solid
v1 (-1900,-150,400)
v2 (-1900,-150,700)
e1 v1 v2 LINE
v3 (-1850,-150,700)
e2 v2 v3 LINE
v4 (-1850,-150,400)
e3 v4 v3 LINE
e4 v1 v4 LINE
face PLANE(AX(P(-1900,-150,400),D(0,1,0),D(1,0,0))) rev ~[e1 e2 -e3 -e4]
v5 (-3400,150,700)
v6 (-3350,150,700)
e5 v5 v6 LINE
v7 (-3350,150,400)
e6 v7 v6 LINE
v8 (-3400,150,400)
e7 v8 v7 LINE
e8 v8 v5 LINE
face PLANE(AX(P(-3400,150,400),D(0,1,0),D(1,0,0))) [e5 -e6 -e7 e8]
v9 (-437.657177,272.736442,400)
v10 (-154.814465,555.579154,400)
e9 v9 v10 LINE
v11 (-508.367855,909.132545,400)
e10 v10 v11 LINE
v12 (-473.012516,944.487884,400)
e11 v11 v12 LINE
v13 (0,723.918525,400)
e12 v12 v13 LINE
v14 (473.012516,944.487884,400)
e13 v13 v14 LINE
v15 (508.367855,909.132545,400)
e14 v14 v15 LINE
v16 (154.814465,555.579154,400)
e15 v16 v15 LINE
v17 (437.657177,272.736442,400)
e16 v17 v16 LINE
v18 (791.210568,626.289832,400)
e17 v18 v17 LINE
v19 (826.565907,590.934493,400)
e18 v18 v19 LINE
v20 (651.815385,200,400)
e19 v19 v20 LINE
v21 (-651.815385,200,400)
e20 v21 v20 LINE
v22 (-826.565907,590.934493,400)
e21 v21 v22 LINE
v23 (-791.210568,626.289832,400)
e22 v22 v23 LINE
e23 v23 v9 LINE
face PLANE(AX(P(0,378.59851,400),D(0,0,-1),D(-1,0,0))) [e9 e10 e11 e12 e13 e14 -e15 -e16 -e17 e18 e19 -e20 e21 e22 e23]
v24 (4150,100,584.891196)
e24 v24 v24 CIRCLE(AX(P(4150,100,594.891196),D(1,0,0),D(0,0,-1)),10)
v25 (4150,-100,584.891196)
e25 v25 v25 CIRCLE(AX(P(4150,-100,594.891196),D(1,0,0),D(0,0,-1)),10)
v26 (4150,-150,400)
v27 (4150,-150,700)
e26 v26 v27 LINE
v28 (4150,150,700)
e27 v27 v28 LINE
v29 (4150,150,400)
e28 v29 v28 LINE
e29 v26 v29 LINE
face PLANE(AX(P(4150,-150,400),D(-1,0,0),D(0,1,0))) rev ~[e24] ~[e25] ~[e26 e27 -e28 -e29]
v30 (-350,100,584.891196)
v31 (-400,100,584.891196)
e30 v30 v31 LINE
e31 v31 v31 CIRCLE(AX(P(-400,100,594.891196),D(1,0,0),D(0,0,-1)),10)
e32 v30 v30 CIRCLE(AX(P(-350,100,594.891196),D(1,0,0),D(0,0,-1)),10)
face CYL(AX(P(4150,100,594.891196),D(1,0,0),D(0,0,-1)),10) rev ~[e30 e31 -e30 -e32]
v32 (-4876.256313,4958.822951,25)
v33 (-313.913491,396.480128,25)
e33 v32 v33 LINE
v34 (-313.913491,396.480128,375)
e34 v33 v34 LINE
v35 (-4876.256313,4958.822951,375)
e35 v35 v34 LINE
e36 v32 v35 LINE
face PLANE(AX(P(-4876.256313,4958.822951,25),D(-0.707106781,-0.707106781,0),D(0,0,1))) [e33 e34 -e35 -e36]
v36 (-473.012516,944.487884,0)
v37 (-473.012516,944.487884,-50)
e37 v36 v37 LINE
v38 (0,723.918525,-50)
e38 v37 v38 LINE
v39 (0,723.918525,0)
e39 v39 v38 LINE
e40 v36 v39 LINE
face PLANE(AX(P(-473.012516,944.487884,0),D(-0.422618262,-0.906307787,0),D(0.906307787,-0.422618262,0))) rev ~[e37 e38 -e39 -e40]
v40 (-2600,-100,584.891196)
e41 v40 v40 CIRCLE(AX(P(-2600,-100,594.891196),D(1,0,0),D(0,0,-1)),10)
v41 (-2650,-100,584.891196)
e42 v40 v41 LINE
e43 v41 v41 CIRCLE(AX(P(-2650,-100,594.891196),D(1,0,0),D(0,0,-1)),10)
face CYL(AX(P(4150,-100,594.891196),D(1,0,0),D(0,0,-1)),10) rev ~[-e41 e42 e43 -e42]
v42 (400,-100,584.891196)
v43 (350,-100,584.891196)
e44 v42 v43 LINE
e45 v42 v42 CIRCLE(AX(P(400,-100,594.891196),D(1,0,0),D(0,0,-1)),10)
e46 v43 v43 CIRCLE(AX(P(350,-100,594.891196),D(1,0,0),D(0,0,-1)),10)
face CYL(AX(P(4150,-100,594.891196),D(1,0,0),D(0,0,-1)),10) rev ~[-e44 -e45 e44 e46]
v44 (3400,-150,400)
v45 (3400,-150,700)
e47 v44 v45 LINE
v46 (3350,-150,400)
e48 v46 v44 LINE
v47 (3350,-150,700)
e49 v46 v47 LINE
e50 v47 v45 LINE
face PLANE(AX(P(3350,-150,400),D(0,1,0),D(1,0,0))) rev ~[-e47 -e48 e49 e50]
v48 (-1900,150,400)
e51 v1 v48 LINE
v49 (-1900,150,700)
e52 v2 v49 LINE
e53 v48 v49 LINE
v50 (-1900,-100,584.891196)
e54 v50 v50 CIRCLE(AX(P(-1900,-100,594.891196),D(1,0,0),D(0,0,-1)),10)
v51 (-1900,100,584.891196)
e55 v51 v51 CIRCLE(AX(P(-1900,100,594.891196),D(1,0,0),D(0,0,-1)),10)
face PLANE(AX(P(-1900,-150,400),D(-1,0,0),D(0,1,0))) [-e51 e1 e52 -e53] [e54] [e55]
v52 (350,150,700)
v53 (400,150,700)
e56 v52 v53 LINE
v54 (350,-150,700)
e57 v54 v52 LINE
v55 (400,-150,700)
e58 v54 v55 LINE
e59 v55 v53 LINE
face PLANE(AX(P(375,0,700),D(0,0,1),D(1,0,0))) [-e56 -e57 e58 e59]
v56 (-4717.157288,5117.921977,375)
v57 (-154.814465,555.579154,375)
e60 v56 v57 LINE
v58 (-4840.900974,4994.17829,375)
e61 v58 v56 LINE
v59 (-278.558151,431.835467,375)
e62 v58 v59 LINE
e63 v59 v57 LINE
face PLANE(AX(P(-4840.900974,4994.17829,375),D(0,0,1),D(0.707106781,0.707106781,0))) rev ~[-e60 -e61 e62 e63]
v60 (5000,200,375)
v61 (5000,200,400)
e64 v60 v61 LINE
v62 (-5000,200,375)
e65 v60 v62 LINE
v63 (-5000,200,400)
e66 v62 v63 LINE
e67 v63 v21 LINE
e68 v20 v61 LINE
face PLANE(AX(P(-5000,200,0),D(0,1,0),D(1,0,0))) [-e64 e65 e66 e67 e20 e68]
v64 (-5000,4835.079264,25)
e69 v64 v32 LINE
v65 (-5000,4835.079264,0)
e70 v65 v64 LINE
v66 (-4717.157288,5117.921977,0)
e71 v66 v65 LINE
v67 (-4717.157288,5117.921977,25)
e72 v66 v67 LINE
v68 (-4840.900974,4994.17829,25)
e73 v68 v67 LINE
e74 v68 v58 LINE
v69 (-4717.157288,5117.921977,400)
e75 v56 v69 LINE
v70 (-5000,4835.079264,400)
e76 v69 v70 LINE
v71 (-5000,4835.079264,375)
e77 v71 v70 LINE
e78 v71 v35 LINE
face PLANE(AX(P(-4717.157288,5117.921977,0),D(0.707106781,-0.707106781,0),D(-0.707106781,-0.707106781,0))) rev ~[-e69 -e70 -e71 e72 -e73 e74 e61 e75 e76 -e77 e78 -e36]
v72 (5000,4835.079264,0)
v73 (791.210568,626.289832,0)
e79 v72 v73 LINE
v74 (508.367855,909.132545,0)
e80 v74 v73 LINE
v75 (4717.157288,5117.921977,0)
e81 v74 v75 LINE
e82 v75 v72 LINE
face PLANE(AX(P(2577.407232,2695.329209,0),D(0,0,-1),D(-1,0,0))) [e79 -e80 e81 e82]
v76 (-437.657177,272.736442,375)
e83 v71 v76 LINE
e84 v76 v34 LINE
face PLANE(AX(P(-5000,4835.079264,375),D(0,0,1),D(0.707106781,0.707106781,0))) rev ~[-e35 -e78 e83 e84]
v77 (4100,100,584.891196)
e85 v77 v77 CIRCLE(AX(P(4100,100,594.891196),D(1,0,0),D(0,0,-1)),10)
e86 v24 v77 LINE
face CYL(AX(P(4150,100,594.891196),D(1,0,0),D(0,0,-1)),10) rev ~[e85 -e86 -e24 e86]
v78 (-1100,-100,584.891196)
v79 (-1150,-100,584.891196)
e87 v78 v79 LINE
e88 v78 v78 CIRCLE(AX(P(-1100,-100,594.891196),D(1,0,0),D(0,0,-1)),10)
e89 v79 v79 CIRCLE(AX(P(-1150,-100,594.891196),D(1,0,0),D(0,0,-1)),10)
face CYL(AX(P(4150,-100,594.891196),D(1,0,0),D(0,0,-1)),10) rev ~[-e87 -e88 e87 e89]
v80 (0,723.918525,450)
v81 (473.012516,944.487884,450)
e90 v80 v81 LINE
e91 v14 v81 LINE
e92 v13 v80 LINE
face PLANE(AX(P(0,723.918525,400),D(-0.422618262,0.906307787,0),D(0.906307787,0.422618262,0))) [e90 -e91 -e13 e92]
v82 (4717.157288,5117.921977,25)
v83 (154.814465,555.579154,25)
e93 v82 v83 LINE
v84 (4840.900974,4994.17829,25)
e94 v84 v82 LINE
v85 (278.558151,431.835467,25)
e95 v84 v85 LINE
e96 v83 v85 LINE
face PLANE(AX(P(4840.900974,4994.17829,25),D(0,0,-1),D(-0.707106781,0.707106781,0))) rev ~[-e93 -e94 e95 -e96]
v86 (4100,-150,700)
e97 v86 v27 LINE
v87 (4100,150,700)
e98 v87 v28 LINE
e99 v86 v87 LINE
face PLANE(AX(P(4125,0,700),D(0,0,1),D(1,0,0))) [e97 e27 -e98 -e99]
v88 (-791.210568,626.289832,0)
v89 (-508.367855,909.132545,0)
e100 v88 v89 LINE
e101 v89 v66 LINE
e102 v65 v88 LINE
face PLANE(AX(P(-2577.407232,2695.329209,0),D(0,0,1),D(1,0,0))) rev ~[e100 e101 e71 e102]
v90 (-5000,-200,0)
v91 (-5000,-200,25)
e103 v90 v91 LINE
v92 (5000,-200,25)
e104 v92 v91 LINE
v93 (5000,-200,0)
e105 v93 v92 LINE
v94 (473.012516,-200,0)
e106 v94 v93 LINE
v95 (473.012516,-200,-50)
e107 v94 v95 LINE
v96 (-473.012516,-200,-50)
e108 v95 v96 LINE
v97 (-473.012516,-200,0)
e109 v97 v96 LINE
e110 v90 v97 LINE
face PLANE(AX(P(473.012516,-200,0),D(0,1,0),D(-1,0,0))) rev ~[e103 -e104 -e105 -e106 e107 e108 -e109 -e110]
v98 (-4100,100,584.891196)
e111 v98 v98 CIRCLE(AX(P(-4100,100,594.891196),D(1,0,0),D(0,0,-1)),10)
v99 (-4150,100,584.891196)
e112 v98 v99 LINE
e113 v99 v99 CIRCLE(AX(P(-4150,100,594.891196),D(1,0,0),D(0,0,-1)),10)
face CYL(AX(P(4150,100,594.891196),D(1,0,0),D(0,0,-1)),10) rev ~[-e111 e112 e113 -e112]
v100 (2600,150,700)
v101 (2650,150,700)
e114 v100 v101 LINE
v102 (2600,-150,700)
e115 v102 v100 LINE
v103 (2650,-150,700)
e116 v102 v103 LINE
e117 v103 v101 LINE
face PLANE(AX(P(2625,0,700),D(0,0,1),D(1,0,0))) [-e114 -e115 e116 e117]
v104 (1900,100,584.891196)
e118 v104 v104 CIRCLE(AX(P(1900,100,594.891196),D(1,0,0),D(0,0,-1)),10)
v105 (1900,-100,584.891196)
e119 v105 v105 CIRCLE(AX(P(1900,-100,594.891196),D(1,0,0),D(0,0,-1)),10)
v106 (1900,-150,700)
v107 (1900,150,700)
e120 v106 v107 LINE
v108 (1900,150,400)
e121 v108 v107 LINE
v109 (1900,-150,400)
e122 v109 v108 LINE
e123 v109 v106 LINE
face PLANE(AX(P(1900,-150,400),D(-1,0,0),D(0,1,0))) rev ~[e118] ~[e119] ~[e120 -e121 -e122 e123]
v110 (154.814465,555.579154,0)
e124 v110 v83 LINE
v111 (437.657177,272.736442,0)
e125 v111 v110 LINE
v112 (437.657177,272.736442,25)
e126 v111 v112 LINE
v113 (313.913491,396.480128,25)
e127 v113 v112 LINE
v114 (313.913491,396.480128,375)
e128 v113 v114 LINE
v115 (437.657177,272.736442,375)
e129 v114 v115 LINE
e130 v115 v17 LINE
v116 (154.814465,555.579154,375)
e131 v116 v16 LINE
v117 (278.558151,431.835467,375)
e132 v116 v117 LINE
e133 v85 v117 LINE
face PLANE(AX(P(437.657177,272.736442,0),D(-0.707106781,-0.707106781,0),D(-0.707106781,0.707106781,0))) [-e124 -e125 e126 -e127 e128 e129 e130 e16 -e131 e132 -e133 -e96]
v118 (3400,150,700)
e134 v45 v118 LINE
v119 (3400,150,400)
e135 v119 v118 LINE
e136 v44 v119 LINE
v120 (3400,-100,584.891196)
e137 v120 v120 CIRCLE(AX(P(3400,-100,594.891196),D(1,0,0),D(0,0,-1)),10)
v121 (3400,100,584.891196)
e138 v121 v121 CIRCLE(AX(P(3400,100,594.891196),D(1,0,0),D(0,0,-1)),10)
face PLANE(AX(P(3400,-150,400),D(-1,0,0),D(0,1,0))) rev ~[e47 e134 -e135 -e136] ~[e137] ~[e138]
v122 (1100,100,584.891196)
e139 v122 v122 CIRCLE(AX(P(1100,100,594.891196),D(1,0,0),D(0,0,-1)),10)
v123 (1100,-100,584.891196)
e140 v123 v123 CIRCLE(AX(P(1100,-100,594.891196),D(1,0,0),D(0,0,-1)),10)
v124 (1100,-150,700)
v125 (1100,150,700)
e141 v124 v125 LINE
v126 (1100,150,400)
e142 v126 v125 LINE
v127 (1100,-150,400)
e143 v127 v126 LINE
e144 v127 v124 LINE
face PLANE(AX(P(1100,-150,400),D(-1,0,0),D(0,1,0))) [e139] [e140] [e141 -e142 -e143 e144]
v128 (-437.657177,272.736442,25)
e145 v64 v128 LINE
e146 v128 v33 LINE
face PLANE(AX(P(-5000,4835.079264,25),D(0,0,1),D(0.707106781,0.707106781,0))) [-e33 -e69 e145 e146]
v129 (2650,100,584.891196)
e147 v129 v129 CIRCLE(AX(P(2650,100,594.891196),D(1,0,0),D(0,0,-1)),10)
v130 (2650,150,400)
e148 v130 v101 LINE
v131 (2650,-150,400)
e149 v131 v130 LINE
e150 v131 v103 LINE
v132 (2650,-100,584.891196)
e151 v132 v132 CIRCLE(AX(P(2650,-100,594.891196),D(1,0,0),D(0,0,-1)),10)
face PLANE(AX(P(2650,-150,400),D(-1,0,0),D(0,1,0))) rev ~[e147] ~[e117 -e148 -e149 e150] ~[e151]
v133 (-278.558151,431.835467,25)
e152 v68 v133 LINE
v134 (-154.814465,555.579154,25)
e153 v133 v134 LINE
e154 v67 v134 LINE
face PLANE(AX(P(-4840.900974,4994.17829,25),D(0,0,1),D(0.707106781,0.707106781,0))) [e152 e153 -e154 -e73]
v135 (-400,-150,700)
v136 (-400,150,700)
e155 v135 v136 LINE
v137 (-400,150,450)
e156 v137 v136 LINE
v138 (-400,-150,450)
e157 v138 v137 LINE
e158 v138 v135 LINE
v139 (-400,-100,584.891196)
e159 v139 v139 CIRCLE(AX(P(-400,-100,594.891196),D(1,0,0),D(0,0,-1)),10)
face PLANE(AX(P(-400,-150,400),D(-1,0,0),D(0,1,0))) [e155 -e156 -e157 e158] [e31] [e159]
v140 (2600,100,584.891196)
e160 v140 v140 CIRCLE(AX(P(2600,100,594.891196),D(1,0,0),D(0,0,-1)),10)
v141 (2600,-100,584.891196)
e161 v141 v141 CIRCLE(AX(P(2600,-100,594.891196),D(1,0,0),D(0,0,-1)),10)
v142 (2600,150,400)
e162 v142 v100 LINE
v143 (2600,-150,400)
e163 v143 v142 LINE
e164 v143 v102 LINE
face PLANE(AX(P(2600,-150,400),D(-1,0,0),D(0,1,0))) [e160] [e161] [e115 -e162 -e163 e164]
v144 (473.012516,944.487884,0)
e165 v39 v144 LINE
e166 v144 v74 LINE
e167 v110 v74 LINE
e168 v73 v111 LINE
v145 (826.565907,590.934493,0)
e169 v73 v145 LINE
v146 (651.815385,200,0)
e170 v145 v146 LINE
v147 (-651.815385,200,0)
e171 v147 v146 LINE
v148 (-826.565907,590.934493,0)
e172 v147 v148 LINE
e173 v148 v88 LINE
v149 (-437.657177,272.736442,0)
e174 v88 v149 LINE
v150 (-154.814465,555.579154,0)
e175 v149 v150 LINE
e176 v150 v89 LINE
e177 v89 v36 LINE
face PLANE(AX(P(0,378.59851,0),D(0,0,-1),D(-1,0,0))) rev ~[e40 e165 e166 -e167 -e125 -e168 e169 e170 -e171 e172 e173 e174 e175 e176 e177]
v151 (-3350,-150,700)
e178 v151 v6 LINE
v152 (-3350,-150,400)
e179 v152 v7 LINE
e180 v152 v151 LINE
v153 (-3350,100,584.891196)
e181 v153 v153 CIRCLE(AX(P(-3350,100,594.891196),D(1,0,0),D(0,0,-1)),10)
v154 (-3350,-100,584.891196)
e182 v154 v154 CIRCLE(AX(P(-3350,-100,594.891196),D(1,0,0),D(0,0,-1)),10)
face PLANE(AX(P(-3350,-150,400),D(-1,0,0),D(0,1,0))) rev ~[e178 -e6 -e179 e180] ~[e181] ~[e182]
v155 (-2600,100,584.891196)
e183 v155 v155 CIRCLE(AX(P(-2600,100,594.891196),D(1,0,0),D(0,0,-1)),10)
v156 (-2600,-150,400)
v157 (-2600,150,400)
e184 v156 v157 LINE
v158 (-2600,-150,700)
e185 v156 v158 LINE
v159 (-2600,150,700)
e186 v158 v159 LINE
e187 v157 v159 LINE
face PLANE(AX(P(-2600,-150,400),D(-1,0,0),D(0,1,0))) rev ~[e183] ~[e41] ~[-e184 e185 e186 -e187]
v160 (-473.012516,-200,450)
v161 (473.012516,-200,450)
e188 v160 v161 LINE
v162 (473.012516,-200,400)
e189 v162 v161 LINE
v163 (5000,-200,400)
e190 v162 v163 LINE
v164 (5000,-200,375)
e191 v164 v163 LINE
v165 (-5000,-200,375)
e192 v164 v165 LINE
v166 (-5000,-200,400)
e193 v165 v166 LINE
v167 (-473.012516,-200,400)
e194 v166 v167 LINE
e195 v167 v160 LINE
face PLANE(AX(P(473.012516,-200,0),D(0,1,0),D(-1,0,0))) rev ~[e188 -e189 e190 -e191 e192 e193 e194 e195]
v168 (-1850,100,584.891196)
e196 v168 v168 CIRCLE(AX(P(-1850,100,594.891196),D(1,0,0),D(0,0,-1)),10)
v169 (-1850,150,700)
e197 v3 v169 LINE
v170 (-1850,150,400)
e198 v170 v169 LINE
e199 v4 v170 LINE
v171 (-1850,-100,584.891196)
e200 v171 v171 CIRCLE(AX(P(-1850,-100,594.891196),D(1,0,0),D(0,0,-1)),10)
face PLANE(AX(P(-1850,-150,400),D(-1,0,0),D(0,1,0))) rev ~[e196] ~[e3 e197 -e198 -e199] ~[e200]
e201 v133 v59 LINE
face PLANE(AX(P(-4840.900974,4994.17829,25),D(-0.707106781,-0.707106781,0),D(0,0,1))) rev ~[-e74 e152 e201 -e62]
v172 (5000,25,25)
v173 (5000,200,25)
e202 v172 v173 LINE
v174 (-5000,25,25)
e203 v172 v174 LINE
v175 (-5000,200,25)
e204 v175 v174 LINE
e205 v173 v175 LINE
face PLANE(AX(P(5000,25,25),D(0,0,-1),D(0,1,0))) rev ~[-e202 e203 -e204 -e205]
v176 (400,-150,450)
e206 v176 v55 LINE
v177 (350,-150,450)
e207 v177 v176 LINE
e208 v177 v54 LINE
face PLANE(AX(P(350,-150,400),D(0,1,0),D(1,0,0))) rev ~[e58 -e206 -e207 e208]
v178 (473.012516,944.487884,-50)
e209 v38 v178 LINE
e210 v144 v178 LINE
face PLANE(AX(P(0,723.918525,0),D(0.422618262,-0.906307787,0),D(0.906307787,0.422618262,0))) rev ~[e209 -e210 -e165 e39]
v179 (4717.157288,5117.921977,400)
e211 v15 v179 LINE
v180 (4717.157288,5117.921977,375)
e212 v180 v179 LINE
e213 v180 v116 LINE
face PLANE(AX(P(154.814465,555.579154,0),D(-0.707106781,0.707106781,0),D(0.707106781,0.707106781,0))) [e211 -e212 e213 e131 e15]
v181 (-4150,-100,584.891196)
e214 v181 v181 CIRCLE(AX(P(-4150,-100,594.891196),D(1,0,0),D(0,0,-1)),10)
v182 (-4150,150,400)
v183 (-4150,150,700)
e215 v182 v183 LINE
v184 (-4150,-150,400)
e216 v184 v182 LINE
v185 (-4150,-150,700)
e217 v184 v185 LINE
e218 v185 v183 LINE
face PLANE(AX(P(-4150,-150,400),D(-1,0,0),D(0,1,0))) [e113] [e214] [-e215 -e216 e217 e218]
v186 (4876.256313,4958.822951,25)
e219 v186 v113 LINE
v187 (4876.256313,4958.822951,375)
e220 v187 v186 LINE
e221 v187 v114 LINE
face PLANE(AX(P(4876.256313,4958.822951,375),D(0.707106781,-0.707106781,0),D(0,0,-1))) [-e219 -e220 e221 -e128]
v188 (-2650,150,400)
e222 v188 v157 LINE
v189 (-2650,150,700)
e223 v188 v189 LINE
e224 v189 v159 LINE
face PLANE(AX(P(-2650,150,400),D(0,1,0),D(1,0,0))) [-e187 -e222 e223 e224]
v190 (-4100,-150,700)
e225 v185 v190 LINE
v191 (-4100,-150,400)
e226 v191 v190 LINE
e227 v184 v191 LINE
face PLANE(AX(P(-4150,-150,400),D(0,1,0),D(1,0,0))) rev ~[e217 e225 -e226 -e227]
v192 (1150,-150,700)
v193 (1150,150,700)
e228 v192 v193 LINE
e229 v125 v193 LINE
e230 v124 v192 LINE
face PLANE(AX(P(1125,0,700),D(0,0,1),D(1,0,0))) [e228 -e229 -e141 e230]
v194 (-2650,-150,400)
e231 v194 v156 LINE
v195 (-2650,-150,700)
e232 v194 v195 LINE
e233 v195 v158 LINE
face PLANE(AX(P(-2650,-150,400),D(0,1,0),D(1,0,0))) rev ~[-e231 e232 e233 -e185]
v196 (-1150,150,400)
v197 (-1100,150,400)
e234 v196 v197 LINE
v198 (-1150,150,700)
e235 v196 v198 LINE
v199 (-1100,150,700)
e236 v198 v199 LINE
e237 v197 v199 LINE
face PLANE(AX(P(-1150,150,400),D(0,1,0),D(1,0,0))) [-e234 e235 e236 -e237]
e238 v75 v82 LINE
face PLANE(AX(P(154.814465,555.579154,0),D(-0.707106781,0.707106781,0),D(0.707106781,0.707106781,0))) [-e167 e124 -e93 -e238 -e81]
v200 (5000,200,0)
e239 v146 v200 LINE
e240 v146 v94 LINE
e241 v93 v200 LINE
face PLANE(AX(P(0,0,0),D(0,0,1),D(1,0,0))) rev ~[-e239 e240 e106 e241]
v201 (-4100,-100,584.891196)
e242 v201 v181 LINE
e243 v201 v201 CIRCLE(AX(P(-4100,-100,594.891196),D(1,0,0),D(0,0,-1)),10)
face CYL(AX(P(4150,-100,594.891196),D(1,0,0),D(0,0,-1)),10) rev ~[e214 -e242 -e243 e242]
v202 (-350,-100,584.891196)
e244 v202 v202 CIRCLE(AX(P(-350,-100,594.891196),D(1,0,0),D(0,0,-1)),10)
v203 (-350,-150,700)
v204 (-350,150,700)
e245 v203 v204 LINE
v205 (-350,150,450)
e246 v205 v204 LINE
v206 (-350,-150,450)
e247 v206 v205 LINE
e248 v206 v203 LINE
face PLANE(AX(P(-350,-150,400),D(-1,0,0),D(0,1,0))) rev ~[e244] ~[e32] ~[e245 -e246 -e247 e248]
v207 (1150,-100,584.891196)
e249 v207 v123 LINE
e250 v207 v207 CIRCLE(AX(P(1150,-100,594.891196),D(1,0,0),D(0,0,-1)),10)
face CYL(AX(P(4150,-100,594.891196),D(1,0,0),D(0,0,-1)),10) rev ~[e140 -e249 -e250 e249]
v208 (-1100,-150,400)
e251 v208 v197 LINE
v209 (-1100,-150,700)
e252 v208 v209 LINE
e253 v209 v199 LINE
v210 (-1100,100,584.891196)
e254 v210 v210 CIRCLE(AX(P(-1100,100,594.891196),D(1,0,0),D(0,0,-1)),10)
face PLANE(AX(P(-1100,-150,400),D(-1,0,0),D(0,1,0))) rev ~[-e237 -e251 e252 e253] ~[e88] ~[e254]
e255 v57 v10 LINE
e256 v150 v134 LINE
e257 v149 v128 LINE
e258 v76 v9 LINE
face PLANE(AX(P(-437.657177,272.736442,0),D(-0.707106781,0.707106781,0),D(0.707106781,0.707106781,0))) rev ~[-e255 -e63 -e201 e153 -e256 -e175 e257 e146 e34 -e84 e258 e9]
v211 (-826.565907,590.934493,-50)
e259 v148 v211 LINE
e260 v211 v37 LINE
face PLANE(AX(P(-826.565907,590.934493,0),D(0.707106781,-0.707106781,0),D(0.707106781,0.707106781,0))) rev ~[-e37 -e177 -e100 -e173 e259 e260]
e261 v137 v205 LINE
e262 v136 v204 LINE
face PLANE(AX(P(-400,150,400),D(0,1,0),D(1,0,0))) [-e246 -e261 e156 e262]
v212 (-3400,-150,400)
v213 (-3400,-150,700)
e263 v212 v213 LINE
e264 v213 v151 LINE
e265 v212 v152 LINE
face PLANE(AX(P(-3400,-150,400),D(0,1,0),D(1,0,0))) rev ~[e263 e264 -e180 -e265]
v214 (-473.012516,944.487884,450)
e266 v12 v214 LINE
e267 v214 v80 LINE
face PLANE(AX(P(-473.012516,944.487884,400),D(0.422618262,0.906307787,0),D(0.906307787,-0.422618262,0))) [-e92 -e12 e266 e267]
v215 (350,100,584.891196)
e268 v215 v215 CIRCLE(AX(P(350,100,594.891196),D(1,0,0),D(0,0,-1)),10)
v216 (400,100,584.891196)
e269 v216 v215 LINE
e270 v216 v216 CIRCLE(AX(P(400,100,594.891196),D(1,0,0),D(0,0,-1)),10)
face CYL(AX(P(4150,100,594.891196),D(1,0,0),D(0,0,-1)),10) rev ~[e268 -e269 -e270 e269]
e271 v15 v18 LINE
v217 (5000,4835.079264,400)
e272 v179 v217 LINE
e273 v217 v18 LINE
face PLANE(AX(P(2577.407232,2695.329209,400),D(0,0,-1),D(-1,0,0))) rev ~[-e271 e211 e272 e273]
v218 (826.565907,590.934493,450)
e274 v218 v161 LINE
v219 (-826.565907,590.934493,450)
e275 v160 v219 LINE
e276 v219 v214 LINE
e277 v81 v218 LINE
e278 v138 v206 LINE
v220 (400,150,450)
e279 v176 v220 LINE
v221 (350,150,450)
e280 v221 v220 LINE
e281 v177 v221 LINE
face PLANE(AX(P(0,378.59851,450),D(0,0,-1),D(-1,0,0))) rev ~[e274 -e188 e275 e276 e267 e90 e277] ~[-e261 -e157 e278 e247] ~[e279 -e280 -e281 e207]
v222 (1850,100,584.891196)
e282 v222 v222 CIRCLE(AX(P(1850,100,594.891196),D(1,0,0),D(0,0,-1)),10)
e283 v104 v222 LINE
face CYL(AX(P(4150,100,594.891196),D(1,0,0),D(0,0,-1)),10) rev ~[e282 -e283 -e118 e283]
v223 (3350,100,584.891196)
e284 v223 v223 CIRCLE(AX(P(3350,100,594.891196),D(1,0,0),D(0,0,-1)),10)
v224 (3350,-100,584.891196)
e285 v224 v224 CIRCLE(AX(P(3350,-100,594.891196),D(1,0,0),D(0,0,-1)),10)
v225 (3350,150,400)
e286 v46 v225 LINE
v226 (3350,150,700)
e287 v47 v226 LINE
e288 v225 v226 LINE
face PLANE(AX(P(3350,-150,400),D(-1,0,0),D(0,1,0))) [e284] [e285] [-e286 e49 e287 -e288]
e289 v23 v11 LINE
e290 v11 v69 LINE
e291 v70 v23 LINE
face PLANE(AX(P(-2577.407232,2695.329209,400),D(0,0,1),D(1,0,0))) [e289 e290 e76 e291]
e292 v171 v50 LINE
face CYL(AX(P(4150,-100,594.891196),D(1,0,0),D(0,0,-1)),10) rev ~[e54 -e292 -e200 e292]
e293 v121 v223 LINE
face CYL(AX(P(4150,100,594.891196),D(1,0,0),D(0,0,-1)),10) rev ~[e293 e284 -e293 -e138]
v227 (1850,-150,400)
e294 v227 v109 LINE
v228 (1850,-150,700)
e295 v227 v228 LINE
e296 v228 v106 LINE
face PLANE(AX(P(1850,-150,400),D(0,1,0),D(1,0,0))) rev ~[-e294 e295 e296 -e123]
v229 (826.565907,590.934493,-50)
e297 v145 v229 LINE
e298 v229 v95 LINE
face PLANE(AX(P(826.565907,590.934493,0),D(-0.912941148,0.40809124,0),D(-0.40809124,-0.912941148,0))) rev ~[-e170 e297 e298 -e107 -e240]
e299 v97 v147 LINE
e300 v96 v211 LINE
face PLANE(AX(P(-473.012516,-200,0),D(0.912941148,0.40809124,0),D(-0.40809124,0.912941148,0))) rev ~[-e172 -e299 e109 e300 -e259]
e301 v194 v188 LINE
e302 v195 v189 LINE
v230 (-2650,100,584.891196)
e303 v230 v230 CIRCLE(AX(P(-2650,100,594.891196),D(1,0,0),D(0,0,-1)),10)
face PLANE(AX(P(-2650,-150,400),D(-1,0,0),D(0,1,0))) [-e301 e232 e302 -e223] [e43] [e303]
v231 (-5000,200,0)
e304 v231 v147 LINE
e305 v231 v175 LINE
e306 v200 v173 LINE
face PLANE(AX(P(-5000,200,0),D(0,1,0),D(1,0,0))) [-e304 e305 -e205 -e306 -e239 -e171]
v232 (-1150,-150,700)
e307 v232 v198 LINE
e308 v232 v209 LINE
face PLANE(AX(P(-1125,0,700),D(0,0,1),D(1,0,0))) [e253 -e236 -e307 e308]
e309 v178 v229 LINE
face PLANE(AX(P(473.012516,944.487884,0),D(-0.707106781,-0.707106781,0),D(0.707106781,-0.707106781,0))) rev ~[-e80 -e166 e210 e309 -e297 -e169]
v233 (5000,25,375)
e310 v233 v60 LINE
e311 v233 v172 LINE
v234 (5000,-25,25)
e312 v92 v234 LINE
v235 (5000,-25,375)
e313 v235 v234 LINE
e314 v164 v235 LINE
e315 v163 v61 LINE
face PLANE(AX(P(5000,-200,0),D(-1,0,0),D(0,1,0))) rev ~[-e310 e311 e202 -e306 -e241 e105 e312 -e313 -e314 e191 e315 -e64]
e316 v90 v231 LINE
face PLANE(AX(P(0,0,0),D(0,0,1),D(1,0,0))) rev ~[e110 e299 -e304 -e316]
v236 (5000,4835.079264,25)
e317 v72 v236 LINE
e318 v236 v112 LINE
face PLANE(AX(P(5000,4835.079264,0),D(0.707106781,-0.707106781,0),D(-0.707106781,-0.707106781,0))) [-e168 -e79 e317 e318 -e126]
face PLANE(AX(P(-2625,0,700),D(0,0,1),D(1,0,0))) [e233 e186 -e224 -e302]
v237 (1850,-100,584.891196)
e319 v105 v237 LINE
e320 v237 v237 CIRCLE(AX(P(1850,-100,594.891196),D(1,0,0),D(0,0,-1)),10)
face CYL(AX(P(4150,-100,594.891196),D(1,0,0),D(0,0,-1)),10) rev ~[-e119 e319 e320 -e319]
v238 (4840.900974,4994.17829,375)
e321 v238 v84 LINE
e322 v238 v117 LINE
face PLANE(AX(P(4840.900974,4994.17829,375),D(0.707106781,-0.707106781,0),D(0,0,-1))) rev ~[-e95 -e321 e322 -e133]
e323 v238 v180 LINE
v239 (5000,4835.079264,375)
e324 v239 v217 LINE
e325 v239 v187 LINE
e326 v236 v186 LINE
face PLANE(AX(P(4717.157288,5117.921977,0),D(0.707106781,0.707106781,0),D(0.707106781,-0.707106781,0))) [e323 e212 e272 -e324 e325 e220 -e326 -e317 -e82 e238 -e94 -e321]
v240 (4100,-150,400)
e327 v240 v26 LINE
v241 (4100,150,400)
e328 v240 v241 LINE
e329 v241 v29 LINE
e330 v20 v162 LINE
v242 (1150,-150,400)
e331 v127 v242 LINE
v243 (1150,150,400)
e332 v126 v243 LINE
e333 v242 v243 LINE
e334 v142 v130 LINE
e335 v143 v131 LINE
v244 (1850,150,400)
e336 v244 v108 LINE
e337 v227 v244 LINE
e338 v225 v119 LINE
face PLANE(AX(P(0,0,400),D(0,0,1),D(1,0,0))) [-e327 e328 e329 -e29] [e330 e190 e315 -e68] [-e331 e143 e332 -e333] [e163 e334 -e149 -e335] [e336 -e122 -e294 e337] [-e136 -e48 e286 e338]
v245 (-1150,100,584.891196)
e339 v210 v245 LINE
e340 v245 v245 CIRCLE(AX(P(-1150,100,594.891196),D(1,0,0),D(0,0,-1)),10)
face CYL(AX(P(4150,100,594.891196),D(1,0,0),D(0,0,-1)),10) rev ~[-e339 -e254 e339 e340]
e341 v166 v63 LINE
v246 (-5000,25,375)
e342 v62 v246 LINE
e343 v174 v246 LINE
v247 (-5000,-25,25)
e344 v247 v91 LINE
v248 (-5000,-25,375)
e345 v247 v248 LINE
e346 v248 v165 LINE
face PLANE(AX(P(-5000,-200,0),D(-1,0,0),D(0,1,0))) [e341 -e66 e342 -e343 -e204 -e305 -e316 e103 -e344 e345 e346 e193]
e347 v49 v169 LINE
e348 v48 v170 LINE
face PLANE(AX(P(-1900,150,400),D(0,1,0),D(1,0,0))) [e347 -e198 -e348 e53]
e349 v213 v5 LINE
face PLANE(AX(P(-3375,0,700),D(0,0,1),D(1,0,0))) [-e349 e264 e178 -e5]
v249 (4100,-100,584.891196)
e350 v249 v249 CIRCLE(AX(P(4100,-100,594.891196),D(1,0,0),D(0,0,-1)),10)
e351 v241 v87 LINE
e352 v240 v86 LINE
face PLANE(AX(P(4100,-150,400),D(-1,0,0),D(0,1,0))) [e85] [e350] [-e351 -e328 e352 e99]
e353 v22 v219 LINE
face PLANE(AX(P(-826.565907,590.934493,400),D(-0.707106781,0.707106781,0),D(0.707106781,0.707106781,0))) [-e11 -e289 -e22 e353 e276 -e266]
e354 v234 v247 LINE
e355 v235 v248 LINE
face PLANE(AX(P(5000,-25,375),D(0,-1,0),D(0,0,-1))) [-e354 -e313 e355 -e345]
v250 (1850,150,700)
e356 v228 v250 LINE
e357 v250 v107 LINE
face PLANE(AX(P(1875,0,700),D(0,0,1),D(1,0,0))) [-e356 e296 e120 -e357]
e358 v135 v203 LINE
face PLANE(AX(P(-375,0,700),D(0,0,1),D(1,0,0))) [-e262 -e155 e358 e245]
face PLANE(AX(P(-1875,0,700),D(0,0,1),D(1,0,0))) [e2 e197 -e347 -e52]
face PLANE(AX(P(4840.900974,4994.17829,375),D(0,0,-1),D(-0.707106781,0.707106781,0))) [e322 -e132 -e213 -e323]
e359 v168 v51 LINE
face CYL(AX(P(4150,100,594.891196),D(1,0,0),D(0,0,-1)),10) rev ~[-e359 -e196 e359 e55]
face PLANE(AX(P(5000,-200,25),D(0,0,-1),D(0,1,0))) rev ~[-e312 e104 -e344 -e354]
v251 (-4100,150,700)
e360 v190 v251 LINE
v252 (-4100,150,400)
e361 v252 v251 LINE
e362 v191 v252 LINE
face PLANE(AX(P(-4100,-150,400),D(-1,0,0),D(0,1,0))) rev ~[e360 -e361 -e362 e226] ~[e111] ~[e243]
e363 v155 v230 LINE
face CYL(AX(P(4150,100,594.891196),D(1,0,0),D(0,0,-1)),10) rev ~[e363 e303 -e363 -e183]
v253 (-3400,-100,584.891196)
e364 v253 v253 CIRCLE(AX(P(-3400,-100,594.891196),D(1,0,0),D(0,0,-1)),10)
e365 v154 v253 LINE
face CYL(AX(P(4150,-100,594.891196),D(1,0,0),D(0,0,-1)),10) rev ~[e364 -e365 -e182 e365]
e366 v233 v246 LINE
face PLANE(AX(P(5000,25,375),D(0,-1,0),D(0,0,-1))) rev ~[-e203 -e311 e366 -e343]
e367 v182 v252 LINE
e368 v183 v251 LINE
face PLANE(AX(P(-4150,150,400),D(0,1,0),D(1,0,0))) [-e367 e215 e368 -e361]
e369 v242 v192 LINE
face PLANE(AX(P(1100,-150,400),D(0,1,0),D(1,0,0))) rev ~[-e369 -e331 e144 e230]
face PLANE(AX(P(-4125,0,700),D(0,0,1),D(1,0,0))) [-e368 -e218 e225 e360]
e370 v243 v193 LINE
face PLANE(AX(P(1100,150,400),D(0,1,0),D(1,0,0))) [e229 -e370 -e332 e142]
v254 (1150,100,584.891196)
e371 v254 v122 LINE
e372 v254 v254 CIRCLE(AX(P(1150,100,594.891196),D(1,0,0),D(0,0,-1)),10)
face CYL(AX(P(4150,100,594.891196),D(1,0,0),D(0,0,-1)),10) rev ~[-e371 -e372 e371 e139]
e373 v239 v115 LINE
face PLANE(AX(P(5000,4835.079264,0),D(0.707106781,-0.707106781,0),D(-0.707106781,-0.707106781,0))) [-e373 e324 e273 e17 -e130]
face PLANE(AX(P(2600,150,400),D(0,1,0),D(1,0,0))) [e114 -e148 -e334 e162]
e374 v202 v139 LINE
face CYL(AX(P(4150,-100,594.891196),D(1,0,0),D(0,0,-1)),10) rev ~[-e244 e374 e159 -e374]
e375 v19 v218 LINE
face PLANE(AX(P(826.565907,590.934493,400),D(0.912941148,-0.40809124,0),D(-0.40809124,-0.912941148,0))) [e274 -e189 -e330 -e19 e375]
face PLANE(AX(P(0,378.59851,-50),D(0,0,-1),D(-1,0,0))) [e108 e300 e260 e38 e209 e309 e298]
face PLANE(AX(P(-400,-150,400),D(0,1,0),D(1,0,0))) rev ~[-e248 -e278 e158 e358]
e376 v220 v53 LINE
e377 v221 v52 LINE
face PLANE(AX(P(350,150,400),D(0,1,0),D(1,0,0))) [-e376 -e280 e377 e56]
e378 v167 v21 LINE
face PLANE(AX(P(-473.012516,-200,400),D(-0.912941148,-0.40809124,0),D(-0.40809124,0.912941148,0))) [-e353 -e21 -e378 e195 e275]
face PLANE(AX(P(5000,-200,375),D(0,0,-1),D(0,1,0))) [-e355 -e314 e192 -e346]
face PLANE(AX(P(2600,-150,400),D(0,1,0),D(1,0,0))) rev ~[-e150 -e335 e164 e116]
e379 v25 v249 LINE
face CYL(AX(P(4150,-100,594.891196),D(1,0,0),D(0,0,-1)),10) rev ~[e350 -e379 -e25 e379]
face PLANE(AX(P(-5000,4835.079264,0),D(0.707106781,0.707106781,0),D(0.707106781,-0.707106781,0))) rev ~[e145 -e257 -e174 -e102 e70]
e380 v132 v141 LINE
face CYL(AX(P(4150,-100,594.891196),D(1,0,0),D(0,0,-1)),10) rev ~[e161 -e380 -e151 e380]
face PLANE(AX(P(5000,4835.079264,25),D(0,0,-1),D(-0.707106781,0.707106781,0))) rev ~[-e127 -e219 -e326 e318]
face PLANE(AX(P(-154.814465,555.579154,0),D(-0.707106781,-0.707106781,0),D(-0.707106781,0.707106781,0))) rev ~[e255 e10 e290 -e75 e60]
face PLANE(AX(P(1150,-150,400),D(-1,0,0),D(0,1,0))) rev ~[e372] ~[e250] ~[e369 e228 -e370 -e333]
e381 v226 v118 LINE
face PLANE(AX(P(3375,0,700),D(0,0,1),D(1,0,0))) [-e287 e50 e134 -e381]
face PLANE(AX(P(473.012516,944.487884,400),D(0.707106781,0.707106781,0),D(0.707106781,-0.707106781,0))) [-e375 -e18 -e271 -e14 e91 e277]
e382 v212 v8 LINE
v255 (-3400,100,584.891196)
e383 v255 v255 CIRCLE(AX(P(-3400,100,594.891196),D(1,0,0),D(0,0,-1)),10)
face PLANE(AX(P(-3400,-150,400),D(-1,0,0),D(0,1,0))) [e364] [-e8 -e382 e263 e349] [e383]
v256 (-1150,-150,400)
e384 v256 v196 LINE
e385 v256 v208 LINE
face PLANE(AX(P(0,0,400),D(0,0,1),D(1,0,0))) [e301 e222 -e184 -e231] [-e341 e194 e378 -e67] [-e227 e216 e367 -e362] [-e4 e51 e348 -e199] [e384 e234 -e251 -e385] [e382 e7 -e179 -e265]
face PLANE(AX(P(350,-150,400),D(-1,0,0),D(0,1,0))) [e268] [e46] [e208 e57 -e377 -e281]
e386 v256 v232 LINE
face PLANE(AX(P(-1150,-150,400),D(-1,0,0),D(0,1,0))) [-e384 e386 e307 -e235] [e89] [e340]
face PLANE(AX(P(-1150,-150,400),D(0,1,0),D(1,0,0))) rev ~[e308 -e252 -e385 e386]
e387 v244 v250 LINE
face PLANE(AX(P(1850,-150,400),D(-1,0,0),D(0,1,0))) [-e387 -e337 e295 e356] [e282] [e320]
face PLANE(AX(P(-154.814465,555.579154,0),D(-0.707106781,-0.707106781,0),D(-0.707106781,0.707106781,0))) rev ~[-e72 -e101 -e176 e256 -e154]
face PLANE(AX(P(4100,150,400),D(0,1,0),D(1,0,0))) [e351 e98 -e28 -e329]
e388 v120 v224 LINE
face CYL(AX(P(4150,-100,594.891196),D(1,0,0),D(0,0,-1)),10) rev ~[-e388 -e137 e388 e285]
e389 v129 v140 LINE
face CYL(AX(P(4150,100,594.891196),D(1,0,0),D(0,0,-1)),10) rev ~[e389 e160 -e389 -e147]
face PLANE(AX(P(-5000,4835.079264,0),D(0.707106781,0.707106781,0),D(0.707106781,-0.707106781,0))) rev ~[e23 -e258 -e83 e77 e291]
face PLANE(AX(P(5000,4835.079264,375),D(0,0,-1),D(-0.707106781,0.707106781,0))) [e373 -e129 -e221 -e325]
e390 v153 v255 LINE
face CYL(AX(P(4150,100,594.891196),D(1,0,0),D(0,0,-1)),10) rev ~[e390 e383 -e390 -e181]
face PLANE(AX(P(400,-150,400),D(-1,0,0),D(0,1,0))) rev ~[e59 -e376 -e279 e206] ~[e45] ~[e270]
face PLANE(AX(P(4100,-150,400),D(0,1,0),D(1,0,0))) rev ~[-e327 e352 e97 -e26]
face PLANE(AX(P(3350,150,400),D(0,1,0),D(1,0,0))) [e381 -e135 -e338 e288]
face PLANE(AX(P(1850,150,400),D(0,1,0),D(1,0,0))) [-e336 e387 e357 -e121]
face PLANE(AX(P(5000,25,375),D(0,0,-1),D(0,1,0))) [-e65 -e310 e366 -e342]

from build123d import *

# Parameters (mm, degrees)
SKETCH1_W           = 10000
SKETCH1_H           = 400
BOSS_EXTRUDE1_DEPTH = 400
BOSS_EXTRUDE2_DEPTH = 50
BOSS_EXTRUDE3_DEPTH = 50
BOSS_EXTRUDE4_DEPTH = 400
SKETCH6_W           = 50
SKETCH6_H           = 300
BOSS_EXTRUDE6_DEPTH = 300
SKETCH7_W           = 350
SKETCH7_H           = 175
CUT_EXTRUDE1_DEPTH  = 6462
SKETCH8_W           = 350
SKETCH8_H           = 175
CUT_EXTRUDE2_DEPTH  = 6475
SKETCH9_W           = 350
SKETCH9_H           = 175
CUT_EXTRUDE3_DEPTH  = 10052
SKETCH10_R          = 10
CUT_EXTRUDE4_DEPTH  = 8436


with BuildPart() as part:
    # Sketch1 → Boss-Extrude1 (new body)
    with BuildSketch(Plane.XY):
        Rectangle(SKETCH1_W, SKETCH1_H)
    extrude(amount=BOSS_EXTRUDE1_DEPTH)

    # Sketch2 → Boss-Extrude2 (add)
    with BuildSketch(Plane.XY.offset(400)):
        Polygon((-826.565906916, 590.934493084), (-473.012516323, 944.487883678), (0, 723.918524913), (473.012516323, 944.487883678), (826.565906916, 590.934493084), (473.012516323, -200), (0, -200), (-473.012516323, -200), align=None)
    extrude(amount=BOSS_EXTRUDE2_DEPTH)

    # Sketch3 → Boss-Extrude3 (add)
    with BuildSketch(Plane(origin=(0, 0, 0), x_dir=(-1, 0, 0), z_dir=(0, 0, -1))):
        Polygon((-826.565906916, 590.934493084), (-473.012516323, -200), (473.012516323, -200), (826.565906916, 590.934493084), (473.012516323, 944.487883678), (0, 723.918524913), (-473.012516323, 944.487883678), align=None)
    extrude(amount=BOSS_EXTRUDE3_DEPTH)

    # Sketch4 → Boss-Extrude4 (add)
    with BuildSketch(Plane.XY):
        Polygon((-437.657177263, 272.73644155), (-154.814464789, 555.579154025), (-4717.157287525, 5117.921976762), (-5000, 4835.079264287), align=None)
        Polygon((154.814464789, 555.579154025), (4717.157287525, 5117.921976762), (5000, 4835.079264287), (437.657177263, 272.73644155), align=None)
    extrude(amount=BOSS_EXTRUDE4_DEPTH)

    # Sketch6 → Boss-Extrude6 (add)
    with BuildSketch(Plane.XY.offset(400)):
        with Locations((-3375, 0)):
            Rectangle(SKETCH6_W, SKETCH6_H)
        with Locations((-4125, 0)):
            Rectangle(SKETCH6_W, SKETCH6_H)
        with Locations((-2625, 0)):
            Rectangle(SKETCH6_W, SKETCH6_H)
        with Locations((-1875, 0)):
            Rectangle(SKETCH6_W, SKETCH6_H)
        with Locations((-1125, 0)):
            Rectangle(SKETCH6_W, SKETCH6_H)
        with Locations((-375, 0)):
            Rectangle(SKETCH6_W, SKETCH6_H)
        with Locations((375, 0)):
            Rectangle(SKETCH6_W, SKETCH6_H)
        with Locations((1125, 0)):
            Rectangle(SKETCH6_W, SKETCH6_H)
        with Locations((1875, 0)):
            Rectangle(SKETCH6_W, SKETCH6_H)
        with Locations((2625, 0)):
            Rectangle(SKETCH6_W, SKETCH6_H)
        with Locations((3375, 0)):
            Rectangle(SKETCH6_W, SKETCH6_H)
        with Locations((4125, 0)):
            Rectangle(SKETCH6_W, SKETCH6_H)
    extrude(amount=BOSS_EXTRUDE6_DEPTH)

    # Sketch7 → Cut-Extrude1 (cut)
    with BuildSketch(Plane(origin=(-4917.539632144, 4917.539632144, 0), x_dir=(0, 0, 1), z_dir=(-0.707106781, 0.707106781, 0))):
        with Locations((200, 195.883429419)):
            Rectangle(SKETCH7_W, SKETCH7_H)
        with Locations((200, -29.116570581)):
            Rectangle(SKETCH7_W, SKETCH7_H)
    extrude(amount=-CUT_EXTRUDE1_DEPTH, mode=Mode.SUBTRACT)

    # Sketch8 → Cut-Extrude2 (cut)
    with BuildSketch(Plane(origin=(4917.539632144, 4917.539632143, 0), x_dir=(0, 0, -1), z_dir=(0.707106781, 0.707106781, 0))):
        with Locations((-200, 195.883429419)):
            Rectangle(SKETCH8_W, SKETCH8_H)
        with Locations((-200, -29.116570581)):
            Rectangle(SKETCH8_W, SKETCH8_H)
    extrude(amount=-CUT_EXTRUDE2_DEPTH, mode=Mode.SUBTRACT)

    # Sketch9 → Cut-Extrude3 (cut)
    with BuildSketch(Plane(origin=(5000, 0, 0), x_dir=(0, 0, -1), z_dir=(1, 0, 0))):
        with Locations((-200, 112.5)):
            Rectangle(SKETCH9_W, SKETCH9_H)
        with Locations((-200, -112.5)):
            Rectangle(SKETCH9_W, SKETCH9_H)
    extrude(amount=-CUT_EXTRUDE3_DEPTH, mode=Mode.SUBTRACT)

    # Sketch10 → Cut-Extrude4 (cut)
    with BuildSketch(Plane(origin=(4150, 0, 0), x_dir=(0, 0, -1), z_dir=(1, 0, 0))):
        with Locations((-594.891195944, 100)):
            Circle(SKETCH10_R)
        with Locations((-594.891195944, -100)):
            Circle(SKETCH10_R)
    extrude(amount=-CUT_EXTRUDE4_DEPTH, mode=Mode.SUBTRACT)


solid = part.part
